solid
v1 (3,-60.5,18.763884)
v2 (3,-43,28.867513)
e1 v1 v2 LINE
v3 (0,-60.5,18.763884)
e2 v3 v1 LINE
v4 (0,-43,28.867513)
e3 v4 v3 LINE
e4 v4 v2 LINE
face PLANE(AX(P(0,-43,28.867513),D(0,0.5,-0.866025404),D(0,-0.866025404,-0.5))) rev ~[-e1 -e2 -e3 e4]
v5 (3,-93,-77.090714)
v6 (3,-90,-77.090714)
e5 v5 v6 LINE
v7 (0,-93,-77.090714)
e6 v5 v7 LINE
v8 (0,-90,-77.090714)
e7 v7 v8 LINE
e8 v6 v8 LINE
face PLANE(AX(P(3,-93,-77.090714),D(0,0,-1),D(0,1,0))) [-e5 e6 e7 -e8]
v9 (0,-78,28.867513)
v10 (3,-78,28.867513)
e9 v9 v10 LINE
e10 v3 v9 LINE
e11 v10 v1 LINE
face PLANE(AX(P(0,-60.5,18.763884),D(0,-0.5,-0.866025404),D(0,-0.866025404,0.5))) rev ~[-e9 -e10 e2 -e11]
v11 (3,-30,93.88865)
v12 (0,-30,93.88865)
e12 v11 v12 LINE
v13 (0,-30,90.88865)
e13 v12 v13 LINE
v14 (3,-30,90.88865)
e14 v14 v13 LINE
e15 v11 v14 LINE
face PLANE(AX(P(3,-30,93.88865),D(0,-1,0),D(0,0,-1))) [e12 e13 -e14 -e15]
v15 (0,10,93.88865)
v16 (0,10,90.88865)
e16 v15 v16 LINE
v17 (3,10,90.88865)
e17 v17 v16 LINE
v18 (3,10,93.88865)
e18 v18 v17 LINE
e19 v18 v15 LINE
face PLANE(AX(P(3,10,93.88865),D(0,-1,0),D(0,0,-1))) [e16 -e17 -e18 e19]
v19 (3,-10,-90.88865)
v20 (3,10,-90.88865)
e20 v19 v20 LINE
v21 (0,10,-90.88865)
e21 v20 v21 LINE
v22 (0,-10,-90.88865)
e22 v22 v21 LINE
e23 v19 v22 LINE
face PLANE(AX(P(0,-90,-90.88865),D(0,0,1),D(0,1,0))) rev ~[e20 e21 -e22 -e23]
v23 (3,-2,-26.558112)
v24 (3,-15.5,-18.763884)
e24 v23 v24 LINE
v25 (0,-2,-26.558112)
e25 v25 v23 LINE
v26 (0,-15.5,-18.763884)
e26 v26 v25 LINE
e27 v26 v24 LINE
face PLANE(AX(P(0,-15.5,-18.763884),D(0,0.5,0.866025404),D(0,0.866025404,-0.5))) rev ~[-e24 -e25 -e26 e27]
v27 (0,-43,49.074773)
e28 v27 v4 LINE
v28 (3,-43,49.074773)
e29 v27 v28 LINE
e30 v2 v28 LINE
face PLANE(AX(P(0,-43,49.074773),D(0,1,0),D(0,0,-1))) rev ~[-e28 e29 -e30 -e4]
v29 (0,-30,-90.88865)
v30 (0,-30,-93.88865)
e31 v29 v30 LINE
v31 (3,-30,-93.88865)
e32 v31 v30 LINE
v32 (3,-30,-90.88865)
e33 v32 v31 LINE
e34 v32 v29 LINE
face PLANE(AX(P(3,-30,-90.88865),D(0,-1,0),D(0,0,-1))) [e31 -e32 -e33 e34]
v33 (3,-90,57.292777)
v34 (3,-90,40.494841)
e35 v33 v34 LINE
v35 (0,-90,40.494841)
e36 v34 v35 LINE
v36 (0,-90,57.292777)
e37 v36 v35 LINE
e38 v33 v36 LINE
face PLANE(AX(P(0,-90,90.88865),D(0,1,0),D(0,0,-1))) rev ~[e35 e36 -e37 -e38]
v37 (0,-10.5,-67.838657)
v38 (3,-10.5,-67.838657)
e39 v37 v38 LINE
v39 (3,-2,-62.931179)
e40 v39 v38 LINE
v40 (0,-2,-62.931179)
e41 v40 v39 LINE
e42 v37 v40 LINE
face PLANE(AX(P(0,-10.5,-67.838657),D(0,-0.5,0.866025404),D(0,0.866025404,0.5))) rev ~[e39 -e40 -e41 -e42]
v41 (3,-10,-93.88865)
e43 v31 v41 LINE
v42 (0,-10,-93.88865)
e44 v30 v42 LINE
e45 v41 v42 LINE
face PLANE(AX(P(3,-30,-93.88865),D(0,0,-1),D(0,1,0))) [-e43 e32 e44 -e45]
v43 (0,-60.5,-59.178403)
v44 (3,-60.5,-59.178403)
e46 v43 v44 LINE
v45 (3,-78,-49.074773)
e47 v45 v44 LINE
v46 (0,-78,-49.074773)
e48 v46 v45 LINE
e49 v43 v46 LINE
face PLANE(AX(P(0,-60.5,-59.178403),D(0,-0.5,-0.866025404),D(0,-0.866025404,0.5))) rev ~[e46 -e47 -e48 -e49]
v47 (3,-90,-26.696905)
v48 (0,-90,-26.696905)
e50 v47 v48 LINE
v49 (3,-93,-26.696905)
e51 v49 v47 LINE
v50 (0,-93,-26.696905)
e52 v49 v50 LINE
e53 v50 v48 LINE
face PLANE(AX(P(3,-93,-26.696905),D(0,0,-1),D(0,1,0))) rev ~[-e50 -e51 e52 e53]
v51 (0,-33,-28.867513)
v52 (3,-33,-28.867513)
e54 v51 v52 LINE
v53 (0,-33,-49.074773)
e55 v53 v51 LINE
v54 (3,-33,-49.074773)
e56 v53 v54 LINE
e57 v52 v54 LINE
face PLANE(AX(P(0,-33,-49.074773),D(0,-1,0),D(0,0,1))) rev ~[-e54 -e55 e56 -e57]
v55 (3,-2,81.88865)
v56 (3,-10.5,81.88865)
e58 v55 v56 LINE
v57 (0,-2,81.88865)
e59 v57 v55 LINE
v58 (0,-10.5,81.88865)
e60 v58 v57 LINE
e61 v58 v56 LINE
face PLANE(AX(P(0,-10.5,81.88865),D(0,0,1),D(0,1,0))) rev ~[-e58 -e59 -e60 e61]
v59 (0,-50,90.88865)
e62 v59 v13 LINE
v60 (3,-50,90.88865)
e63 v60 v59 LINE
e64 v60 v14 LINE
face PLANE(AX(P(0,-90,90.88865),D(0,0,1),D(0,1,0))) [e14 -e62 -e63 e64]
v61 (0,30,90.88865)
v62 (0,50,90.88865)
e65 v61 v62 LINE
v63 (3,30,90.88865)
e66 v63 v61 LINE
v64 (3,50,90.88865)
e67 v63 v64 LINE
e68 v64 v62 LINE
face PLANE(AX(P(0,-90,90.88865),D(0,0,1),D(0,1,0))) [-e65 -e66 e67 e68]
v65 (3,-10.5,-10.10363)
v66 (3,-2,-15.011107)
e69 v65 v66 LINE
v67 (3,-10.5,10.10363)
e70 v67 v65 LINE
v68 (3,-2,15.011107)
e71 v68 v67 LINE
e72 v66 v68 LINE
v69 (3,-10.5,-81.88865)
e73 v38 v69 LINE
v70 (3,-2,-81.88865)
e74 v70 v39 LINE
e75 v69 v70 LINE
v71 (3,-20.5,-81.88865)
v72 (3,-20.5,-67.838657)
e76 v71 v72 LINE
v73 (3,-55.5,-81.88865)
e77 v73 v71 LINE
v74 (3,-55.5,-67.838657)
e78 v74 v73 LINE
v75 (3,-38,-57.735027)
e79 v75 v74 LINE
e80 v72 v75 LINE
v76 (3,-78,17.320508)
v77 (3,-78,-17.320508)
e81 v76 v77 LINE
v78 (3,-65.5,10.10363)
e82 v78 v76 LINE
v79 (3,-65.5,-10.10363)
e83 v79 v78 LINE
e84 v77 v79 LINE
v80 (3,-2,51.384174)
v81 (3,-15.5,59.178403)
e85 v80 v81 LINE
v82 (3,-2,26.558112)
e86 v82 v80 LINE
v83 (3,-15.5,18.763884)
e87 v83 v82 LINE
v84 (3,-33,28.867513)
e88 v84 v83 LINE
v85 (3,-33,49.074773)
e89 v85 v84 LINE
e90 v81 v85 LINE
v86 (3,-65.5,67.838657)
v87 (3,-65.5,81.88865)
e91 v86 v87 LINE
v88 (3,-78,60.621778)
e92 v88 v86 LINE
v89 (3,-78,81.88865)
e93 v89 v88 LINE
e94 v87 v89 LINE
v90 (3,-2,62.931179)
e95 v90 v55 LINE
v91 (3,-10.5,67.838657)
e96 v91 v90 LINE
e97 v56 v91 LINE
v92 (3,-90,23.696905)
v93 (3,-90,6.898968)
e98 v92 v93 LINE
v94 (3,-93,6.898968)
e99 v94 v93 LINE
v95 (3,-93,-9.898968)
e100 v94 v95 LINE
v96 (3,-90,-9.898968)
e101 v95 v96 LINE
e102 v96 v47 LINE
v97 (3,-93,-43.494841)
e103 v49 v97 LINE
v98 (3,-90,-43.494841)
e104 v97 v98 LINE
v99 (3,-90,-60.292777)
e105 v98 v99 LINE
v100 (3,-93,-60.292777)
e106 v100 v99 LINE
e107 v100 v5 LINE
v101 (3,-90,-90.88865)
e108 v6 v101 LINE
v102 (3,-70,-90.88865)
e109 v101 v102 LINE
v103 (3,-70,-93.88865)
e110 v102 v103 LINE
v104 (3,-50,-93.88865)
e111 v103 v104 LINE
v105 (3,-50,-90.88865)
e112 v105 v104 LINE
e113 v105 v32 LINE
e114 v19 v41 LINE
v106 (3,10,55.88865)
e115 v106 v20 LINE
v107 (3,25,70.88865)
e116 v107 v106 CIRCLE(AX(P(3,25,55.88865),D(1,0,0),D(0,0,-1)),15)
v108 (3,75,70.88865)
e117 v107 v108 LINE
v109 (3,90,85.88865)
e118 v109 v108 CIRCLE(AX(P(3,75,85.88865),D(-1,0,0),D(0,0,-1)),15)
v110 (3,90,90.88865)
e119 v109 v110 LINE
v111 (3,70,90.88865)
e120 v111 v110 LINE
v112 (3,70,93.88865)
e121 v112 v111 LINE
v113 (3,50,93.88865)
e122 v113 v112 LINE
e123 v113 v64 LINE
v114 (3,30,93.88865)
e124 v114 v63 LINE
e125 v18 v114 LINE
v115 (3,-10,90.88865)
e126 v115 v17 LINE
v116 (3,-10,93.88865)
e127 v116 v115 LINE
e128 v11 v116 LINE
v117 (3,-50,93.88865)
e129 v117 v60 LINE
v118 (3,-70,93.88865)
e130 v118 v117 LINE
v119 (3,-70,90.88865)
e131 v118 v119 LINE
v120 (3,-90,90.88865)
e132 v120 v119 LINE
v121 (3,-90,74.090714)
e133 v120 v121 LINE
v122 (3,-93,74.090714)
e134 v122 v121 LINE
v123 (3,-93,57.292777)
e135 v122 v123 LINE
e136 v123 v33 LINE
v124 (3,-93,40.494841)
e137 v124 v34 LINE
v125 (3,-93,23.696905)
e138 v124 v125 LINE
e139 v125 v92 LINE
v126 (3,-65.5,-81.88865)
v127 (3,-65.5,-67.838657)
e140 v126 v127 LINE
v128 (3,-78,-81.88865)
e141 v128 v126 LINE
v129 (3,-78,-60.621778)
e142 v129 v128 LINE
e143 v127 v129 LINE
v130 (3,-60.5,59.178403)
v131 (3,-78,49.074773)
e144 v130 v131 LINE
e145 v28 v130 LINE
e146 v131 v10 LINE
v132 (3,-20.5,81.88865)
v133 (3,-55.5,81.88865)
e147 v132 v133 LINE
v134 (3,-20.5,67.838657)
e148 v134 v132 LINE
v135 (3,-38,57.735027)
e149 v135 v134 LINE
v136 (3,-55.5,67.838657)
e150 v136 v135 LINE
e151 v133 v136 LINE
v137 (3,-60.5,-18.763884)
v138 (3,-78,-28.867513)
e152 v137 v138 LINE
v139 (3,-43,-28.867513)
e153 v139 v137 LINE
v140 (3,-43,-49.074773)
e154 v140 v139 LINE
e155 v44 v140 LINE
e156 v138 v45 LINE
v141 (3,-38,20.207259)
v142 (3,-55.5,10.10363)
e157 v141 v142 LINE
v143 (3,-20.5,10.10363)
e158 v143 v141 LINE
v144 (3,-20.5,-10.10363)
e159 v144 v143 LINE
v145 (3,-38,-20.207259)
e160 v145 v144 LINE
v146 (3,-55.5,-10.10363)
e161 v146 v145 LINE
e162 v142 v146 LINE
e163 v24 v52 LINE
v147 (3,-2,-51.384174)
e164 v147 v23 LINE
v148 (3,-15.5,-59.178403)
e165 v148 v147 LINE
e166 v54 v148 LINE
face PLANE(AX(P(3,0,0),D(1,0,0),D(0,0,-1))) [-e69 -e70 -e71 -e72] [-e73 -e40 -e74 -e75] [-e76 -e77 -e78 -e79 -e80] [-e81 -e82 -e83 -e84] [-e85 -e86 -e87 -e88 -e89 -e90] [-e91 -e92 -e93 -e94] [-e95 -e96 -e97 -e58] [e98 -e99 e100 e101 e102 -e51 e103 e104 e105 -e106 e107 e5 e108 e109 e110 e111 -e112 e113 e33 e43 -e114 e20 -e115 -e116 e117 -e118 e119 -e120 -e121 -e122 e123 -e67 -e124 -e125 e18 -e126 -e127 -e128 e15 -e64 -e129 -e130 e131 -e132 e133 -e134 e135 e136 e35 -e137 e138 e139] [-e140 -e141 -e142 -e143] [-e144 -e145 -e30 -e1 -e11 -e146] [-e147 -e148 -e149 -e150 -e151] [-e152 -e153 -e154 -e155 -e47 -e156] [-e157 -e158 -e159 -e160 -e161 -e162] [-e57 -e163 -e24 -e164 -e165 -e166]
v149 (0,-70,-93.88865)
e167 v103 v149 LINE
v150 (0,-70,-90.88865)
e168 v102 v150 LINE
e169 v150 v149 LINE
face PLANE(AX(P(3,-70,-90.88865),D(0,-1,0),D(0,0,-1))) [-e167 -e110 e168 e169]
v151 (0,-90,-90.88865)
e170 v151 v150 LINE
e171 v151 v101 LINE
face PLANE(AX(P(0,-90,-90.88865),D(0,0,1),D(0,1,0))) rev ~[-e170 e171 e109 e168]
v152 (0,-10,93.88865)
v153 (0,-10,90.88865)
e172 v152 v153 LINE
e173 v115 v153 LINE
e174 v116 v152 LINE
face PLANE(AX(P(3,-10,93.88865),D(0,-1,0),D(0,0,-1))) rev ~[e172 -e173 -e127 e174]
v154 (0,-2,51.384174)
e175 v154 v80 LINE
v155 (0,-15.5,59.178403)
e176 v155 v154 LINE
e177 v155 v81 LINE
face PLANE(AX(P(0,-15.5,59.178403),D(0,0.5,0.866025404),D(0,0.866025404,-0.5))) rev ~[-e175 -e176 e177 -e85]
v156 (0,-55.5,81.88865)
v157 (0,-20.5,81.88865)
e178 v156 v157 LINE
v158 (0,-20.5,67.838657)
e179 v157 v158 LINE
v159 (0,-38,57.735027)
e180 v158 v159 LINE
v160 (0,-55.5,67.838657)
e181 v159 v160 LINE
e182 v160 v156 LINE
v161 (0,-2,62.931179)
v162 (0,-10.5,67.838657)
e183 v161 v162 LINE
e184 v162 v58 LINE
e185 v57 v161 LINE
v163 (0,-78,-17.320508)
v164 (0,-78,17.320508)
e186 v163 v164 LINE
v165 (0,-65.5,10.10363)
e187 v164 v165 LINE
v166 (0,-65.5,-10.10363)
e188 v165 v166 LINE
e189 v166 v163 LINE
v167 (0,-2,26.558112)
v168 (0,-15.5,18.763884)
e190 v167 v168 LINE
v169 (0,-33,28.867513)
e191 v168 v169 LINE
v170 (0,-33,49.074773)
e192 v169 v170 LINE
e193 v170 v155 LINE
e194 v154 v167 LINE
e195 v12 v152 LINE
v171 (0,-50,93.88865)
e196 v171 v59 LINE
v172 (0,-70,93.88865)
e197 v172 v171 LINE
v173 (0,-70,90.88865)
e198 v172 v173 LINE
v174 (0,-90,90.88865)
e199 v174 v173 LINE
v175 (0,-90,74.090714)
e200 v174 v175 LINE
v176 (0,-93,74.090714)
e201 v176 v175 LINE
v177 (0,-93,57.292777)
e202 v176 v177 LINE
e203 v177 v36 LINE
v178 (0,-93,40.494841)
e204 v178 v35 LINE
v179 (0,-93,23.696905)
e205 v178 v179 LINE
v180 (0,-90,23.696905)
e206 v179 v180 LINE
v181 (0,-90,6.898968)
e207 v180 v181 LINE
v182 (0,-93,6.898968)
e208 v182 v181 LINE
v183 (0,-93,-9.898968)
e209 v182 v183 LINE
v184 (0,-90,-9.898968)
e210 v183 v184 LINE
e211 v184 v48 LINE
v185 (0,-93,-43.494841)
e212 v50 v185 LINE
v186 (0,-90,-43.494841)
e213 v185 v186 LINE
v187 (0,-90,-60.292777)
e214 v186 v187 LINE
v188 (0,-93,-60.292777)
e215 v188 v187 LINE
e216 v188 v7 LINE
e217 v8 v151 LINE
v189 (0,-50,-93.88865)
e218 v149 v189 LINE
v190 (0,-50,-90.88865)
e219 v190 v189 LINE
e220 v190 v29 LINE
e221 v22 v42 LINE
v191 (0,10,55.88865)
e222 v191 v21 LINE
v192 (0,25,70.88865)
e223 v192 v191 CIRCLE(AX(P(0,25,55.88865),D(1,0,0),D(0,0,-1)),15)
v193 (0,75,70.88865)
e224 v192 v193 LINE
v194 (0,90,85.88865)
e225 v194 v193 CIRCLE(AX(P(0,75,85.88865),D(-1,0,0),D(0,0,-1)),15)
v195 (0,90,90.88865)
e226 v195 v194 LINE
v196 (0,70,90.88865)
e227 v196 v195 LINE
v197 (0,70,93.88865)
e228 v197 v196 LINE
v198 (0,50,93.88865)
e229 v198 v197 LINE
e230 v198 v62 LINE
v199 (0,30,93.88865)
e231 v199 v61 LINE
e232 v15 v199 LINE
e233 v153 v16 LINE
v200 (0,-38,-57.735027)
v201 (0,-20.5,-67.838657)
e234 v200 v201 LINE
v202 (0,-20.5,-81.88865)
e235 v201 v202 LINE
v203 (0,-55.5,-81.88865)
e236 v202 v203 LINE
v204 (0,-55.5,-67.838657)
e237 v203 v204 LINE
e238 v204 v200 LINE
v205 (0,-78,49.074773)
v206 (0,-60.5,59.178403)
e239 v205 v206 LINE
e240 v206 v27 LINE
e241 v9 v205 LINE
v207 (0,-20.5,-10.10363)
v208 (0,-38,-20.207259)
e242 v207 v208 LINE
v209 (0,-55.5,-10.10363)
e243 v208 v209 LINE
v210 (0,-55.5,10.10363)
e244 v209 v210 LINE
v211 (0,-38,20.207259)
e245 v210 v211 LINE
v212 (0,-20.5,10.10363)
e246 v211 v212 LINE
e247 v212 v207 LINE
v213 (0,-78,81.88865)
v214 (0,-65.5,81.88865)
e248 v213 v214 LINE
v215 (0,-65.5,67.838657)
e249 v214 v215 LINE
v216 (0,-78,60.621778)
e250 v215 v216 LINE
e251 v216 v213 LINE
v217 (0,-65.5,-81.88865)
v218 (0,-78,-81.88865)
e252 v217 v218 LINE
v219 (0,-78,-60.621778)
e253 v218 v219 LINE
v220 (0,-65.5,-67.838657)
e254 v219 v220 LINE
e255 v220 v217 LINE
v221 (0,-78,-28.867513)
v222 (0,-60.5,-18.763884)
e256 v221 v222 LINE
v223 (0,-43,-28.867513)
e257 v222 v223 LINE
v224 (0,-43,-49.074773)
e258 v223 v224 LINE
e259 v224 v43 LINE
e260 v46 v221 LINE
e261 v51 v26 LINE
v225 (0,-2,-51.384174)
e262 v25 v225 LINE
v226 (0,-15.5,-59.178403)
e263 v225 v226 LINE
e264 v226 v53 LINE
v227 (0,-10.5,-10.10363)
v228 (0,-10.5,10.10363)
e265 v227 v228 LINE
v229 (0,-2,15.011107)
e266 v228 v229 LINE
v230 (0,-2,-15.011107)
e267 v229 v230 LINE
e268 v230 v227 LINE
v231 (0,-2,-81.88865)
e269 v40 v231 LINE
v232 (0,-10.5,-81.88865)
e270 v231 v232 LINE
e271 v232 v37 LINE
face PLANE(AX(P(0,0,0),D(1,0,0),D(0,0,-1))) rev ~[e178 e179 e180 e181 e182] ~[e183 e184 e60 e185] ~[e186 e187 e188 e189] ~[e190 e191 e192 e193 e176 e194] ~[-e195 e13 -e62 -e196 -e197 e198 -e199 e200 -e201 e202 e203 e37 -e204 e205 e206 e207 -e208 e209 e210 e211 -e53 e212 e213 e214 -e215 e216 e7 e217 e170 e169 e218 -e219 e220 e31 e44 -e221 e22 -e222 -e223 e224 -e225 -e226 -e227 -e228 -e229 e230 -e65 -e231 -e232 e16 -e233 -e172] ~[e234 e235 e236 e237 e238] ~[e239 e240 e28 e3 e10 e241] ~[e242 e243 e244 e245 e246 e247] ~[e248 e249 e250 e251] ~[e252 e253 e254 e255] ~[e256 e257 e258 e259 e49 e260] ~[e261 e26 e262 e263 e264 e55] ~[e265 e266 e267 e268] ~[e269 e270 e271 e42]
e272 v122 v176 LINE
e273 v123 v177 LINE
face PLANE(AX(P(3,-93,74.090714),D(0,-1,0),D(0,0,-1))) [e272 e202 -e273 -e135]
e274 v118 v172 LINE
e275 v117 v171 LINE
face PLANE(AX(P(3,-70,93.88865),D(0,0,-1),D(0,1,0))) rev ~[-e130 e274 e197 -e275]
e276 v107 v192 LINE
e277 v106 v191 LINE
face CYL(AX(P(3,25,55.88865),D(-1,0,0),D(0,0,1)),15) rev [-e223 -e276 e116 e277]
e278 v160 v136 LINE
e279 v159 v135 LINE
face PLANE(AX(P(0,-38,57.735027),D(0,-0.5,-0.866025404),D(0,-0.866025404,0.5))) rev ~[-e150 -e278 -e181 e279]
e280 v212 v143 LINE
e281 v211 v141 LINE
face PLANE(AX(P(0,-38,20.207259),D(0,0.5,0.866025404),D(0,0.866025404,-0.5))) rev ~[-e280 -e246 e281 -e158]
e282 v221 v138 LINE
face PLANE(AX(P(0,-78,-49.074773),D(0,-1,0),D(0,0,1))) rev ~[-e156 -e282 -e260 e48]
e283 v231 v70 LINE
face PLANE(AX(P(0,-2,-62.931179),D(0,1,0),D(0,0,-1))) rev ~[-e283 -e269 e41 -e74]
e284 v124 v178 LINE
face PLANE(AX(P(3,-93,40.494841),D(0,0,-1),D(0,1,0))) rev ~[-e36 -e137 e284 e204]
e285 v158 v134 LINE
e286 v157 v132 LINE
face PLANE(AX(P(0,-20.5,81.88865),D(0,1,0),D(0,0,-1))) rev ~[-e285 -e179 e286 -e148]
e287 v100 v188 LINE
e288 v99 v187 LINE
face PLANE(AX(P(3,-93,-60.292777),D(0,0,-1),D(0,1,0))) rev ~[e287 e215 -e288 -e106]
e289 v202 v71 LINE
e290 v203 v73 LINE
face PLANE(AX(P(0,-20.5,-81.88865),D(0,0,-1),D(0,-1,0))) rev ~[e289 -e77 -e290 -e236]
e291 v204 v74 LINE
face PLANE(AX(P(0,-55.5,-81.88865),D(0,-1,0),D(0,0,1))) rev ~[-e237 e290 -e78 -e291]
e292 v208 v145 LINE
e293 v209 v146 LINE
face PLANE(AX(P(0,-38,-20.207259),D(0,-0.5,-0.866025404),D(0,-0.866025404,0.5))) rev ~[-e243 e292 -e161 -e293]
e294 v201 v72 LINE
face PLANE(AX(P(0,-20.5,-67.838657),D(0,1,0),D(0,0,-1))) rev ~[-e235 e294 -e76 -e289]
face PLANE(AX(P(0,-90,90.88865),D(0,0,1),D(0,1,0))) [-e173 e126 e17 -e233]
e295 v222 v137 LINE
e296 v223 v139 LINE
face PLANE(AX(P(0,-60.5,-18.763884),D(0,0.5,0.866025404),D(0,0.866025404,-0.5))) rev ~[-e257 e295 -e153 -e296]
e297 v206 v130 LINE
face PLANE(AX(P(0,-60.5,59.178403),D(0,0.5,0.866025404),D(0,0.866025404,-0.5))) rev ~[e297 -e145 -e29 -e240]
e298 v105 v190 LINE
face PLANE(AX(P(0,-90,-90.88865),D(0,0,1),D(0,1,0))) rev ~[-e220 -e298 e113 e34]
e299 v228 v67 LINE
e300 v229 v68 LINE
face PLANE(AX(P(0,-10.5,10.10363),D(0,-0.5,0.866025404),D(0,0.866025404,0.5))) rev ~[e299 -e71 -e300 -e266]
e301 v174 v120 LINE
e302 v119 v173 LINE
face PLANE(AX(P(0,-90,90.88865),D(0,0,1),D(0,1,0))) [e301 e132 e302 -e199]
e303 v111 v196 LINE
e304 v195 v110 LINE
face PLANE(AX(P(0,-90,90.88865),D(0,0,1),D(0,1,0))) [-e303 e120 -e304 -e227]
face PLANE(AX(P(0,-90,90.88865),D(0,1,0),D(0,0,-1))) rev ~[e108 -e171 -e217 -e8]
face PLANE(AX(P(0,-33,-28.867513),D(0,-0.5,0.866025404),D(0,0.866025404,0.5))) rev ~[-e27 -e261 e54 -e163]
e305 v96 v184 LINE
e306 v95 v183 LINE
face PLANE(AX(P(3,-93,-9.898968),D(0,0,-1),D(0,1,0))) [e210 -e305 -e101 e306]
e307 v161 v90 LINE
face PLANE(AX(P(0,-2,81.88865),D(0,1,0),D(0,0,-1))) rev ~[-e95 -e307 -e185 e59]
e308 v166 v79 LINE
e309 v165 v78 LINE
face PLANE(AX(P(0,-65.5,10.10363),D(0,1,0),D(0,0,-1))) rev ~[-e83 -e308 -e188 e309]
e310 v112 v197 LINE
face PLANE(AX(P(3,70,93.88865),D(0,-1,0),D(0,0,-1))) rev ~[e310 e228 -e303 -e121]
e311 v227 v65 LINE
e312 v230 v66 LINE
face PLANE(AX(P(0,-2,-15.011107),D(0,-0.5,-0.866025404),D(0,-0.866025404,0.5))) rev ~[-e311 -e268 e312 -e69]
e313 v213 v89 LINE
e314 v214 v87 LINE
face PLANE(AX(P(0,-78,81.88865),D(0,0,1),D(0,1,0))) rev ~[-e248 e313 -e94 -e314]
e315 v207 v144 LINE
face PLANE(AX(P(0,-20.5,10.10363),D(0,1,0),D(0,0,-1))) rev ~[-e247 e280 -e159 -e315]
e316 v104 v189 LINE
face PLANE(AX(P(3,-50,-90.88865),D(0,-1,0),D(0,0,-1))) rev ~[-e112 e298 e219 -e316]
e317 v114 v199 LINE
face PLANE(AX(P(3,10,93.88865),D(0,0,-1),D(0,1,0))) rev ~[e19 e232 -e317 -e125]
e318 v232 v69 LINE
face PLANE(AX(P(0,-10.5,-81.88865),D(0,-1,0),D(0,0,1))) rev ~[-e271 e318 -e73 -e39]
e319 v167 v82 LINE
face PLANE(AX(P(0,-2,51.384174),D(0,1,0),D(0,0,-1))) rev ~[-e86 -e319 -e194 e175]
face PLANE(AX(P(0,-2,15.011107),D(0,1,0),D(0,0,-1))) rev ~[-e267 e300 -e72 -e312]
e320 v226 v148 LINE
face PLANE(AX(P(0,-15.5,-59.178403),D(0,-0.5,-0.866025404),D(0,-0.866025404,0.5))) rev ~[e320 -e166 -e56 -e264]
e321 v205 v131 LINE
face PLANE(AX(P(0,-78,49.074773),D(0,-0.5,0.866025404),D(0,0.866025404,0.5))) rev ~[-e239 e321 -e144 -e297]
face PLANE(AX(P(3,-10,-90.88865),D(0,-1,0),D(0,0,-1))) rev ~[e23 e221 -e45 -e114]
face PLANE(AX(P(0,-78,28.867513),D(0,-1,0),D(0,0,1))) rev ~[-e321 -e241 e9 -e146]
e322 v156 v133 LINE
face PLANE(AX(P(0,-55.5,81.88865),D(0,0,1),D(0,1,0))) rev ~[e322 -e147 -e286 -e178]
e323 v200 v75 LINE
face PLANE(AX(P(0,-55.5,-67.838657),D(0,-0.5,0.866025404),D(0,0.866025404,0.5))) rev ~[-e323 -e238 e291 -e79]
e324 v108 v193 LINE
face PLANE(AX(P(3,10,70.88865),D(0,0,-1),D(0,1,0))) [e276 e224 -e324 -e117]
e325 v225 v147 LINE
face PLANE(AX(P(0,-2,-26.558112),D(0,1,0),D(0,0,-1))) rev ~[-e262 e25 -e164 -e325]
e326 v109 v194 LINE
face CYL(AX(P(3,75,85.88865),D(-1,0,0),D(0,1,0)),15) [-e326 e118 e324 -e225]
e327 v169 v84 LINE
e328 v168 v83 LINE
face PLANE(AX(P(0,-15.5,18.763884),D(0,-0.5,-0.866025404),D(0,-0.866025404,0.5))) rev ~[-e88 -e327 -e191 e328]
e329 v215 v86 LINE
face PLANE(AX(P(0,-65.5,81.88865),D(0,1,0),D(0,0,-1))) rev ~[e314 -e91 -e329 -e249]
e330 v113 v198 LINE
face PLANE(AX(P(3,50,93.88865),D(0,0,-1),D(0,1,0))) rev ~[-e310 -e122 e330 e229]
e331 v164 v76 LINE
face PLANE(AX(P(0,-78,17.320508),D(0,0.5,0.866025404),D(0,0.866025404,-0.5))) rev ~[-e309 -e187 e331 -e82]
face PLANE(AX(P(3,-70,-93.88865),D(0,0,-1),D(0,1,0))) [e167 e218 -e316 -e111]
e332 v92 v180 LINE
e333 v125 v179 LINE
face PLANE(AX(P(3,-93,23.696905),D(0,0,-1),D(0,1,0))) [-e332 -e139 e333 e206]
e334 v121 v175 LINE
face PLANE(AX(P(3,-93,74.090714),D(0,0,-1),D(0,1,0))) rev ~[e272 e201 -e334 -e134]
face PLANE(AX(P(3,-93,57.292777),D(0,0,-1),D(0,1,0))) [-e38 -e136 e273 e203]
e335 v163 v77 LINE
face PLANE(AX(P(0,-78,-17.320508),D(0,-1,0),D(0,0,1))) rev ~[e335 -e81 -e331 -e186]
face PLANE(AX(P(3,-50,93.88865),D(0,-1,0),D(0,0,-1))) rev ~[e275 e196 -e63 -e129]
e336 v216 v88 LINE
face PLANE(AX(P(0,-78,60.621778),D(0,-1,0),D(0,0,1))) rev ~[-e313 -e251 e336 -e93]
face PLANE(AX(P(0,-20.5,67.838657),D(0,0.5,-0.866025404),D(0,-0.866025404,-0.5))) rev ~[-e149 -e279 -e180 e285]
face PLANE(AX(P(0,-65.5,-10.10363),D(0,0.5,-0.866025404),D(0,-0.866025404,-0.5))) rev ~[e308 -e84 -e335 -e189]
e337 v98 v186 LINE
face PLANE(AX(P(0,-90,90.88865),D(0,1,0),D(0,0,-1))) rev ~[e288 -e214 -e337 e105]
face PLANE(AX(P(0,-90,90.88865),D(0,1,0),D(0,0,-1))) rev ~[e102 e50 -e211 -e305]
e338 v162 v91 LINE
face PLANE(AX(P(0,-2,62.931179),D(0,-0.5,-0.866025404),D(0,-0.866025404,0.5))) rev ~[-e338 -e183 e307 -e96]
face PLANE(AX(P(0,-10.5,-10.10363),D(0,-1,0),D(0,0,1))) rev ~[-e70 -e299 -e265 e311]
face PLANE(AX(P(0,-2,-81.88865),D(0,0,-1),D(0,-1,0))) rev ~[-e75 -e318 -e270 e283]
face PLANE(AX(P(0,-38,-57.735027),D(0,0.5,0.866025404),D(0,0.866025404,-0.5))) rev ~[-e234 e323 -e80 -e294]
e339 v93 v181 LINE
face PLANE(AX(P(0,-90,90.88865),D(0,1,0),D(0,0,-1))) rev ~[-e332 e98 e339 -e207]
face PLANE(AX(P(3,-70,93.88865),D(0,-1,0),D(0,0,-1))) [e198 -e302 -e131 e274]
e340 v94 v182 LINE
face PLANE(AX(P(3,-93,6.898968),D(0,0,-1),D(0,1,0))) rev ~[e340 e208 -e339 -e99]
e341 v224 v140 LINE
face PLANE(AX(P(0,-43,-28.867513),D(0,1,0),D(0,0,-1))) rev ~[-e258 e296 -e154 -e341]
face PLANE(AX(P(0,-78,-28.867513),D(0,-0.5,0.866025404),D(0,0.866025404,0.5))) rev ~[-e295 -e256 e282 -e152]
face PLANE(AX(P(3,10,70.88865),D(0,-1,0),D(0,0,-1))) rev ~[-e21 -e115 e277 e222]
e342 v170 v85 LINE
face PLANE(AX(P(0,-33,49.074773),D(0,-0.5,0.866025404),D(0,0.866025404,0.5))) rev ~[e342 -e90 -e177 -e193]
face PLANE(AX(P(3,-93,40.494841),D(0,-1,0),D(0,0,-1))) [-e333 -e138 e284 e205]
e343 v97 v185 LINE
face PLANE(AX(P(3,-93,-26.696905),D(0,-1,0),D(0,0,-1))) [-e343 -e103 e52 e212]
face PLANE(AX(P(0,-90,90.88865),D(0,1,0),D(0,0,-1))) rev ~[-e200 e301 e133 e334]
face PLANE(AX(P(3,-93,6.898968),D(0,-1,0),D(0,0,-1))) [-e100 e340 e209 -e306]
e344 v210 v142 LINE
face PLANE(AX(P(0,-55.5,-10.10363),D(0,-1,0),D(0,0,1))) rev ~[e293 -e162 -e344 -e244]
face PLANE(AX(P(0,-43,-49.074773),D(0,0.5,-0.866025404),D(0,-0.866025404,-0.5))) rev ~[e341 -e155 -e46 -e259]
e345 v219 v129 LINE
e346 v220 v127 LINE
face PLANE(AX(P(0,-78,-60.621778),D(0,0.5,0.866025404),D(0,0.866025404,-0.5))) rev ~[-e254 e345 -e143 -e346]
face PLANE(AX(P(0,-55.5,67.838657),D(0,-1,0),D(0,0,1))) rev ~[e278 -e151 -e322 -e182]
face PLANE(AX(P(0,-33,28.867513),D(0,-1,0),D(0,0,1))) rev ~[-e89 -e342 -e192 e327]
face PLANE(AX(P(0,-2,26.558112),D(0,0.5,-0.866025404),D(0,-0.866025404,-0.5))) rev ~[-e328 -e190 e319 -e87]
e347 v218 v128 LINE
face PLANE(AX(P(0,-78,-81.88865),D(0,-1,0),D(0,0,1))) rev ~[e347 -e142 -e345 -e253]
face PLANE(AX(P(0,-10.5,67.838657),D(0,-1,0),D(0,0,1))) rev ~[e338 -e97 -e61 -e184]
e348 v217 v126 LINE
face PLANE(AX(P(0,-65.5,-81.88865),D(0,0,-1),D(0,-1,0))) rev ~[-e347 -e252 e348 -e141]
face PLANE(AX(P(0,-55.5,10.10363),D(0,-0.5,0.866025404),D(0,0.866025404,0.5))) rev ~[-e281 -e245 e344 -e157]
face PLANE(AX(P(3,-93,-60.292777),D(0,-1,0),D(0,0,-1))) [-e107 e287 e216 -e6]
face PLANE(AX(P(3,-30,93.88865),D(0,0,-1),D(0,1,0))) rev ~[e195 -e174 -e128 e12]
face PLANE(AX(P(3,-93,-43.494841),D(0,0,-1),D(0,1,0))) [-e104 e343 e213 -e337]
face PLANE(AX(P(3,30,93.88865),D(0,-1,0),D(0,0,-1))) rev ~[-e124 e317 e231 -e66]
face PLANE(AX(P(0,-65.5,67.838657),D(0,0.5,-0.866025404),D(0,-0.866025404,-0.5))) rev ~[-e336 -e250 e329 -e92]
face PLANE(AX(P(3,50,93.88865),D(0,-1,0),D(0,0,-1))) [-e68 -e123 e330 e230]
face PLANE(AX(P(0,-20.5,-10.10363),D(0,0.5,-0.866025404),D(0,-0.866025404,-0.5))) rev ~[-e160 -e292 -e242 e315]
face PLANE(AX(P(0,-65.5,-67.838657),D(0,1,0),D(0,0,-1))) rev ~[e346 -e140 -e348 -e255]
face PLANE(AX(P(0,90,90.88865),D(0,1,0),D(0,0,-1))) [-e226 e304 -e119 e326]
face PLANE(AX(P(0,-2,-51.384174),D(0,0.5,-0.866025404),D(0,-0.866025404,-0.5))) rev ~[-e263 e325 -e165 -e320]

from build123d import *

# Parameters (mm, degrees)
SKETCH1_W               = 181.7773
SKETCH1_H               = 180
BOSS_EXTRUDE1_DEPTH     = 3
SKETCH2_W               = 16.797936363
SKETCH2_H               = 3
SKETCH2_W_2             = 16.797936364
SKETCH2_W_3             = 3
SKETCH2_H_2             = 20
BOSS_EXTRUDE2_DEPTH     = 3
SKETCH3_W               = 164.7773
SKETCH3_H               = 80
CUT_EXTRUDE1_DEPTH      = 1
CUT_EXTRUDE1_DEPTH_BACK = 4
FILLET1_R               = 15
CUT_EXTRUDE2_DEPTH      = 10


with BuildPart() as part:
    # Sketch1 → Boss-Extrude1 (new body)
    with BuildSketch(Plane(origin=(0, 0, 0), x_dir=(0, 0, -1), z_dir=(1, 0, 0))):
        Rectangle(SKETCH1_W, SKETCH1_H)
    extrude(amount=BOSS_EXTRUDE1_DEPTH)

    # Sketch2 → Boss-Extrude2 (add)
    with BuildSketch(Plane(origin=(3, 0, 0), x_dir=(0, 0, -1), z_dir=(1, 0, 0))):
        with Locations((-65.691745455, -91.5)):
            Rectangle(SKETCH2_W, SKETCH2_H)
        with Locations((-32.095872727, -91.5)):
            Rectangle(SKETCH2_W_2, SKETCH2_H)
        with Locations((1.5, -91.5)):
            Rectangle(SKETCH2_W_2, SKETCH2_H)
        with Locations((92.38865, -60)):
            Rectangle(SKETCH2_W_3, SKETCH2_H_2)
        with Locations((92.38865, -20)):
            Rectangle(SKETCH2_W_3, SKETCH2_H_2)
        with Locations((92.38865, 20)):
            Rectangle(SKETCH2_W_3, SKETCH2_H_2)
        with Locations((92.38865, 60)):
            Rectangle(SKETCH2_W_3, SKETCH2_H_2)
        with Locations((-92.38865, -60)):
            Rectangle(SKETCH2_W_3, SKETCH2_H_2)
        with Locations((-92.38865, -20)):
            Rectangle(SKETCH2_W_3, SKETCH2_H_2)
        with Locations((-92.38865, 20)):
            Rectangle(SKETCH2_W_3, SKETCH2_H_2)
        with Locations((-92.38865, 60)):
            Rectangle(SKETCH2_W_3, SKETCH2_H_2)
        with Locations((35.095872727, -91.5)):
            Rectangle(SKETCH2_W_2, SKETCH2_H)
        with Locations((68.691745455, -91.5)):
            Rectangle(SKETCH2_W, SKETCH2_H)
    extrude(amount=-BOSS_EXTRUDE2_DEPTH)

    # Sketch3 → Cut-Extrude1 (cut, two sides)
    with BuildSketch(Plane(origin=(3, 0, 0), x_dir=(0, 0, -1), z_dir=(1, 0, 0))) as cut_extrude1_sk:
        with Locations((11.5, 50)):
            Rectangle(SKETCH3_W, SKETCH3_H)
    extrude(amount=CUT_EXTRUDE1_DEPTH, mode=Mode.SUBTRACT)
    extrude(cut_extrude1_sk.sketch, amount=-CUT_EXTRUDE1_DEPTH_BACK, mode=Mode.SUBTRACT)

    # Fillet1
    fillet1_edges = [part.edges().sort_by_distance(p)[0] for p in [
        (1.5, 10, 70.88865),
        (1.5, 90, 70.88865),
    ]]
    fillet(fillet1_edges, radius=FILLET1_R)

    # Sketch4 → Cut-Extrude2 (cut)
    with BuildSketch(Plane.ZY):
        Polygon((-67.83865663, -65.5), (-81.88865, -65.5), (-81.88865, -78), (-60.621778265, -78), align=None)
        Polygon((-49.074772881, -43), (-59.178402592, -60.5), (-49.074772881, -78), (-28.867513459, -78), (-18.763883749, -60.5), (-28.867513459, -43), align=None)
        Polygon((-10.103629711, -65.5), (-17.320508076, -78), (17.320508076, -78), (10.103629711, -65.5), align=None)
        Polygon((28.867513459, -43), (18.763883749, -60.5), (28.867513459, -78), (49.074772881, -78), (59.178402592, -60.5), (49.074772881, -43), align=None)
        Polygon((81.88865, -78), (81.88865, -65.5), (67.83865663, -65.5), (60.621778265, -78), align=None)
        Polygon((81.88865, -55.5), (81.88865, -20.5), (67.83865663, -20.5), (57.735026919, -38), (67.83865663, -55.5), align=None)
        Polygon((51.384173958, -2), (26.558112383, -2), (18.763883749, -15.5), (28.867513459, -33), (49.074772881, -33), (59.178402592, -15.5), align=None)
        Polygon((81.88865, -10.5), (81.88865, -2), (62.931179342, -2), (67.83865663, -10.5), align=None)
        Polygon((20.207259422, -38), (10.103629711, -20.5), (-10.103629711, -20.5), (-20.207259422, -38), (-10.103629711, -55.5), (10.103629711, -55.5), align=None)
        Polygon((15.011106999, -2), (-15.011106999, -2), (-10.103629711, -10.5), (10.103629711, -10.5), align=None)
        Polygon((-26.558112383, -2), (-51.384173958, -2), (-59.178402592, -15.5), (-49.074772881, -33), (-28.867513459, -33), (-18.763883749, -15.5), align=None)
        Polygon((-67.83865663, -20.5), (-81.88865, -20.5), (-81.88865, -55.5), (-67.83865663, -55.5), (-57.735026919, -38), align=None)
        Polygon((-62.931179342, -2), (-81.88865, -2), (-81.88865, -10.5), (-67.83865663, -10.5), align=None)
    extrude(amount=-CUT_EXTRUDE2_DEPTH, mode=Mode.SUBTRACT)


solid = part.part
